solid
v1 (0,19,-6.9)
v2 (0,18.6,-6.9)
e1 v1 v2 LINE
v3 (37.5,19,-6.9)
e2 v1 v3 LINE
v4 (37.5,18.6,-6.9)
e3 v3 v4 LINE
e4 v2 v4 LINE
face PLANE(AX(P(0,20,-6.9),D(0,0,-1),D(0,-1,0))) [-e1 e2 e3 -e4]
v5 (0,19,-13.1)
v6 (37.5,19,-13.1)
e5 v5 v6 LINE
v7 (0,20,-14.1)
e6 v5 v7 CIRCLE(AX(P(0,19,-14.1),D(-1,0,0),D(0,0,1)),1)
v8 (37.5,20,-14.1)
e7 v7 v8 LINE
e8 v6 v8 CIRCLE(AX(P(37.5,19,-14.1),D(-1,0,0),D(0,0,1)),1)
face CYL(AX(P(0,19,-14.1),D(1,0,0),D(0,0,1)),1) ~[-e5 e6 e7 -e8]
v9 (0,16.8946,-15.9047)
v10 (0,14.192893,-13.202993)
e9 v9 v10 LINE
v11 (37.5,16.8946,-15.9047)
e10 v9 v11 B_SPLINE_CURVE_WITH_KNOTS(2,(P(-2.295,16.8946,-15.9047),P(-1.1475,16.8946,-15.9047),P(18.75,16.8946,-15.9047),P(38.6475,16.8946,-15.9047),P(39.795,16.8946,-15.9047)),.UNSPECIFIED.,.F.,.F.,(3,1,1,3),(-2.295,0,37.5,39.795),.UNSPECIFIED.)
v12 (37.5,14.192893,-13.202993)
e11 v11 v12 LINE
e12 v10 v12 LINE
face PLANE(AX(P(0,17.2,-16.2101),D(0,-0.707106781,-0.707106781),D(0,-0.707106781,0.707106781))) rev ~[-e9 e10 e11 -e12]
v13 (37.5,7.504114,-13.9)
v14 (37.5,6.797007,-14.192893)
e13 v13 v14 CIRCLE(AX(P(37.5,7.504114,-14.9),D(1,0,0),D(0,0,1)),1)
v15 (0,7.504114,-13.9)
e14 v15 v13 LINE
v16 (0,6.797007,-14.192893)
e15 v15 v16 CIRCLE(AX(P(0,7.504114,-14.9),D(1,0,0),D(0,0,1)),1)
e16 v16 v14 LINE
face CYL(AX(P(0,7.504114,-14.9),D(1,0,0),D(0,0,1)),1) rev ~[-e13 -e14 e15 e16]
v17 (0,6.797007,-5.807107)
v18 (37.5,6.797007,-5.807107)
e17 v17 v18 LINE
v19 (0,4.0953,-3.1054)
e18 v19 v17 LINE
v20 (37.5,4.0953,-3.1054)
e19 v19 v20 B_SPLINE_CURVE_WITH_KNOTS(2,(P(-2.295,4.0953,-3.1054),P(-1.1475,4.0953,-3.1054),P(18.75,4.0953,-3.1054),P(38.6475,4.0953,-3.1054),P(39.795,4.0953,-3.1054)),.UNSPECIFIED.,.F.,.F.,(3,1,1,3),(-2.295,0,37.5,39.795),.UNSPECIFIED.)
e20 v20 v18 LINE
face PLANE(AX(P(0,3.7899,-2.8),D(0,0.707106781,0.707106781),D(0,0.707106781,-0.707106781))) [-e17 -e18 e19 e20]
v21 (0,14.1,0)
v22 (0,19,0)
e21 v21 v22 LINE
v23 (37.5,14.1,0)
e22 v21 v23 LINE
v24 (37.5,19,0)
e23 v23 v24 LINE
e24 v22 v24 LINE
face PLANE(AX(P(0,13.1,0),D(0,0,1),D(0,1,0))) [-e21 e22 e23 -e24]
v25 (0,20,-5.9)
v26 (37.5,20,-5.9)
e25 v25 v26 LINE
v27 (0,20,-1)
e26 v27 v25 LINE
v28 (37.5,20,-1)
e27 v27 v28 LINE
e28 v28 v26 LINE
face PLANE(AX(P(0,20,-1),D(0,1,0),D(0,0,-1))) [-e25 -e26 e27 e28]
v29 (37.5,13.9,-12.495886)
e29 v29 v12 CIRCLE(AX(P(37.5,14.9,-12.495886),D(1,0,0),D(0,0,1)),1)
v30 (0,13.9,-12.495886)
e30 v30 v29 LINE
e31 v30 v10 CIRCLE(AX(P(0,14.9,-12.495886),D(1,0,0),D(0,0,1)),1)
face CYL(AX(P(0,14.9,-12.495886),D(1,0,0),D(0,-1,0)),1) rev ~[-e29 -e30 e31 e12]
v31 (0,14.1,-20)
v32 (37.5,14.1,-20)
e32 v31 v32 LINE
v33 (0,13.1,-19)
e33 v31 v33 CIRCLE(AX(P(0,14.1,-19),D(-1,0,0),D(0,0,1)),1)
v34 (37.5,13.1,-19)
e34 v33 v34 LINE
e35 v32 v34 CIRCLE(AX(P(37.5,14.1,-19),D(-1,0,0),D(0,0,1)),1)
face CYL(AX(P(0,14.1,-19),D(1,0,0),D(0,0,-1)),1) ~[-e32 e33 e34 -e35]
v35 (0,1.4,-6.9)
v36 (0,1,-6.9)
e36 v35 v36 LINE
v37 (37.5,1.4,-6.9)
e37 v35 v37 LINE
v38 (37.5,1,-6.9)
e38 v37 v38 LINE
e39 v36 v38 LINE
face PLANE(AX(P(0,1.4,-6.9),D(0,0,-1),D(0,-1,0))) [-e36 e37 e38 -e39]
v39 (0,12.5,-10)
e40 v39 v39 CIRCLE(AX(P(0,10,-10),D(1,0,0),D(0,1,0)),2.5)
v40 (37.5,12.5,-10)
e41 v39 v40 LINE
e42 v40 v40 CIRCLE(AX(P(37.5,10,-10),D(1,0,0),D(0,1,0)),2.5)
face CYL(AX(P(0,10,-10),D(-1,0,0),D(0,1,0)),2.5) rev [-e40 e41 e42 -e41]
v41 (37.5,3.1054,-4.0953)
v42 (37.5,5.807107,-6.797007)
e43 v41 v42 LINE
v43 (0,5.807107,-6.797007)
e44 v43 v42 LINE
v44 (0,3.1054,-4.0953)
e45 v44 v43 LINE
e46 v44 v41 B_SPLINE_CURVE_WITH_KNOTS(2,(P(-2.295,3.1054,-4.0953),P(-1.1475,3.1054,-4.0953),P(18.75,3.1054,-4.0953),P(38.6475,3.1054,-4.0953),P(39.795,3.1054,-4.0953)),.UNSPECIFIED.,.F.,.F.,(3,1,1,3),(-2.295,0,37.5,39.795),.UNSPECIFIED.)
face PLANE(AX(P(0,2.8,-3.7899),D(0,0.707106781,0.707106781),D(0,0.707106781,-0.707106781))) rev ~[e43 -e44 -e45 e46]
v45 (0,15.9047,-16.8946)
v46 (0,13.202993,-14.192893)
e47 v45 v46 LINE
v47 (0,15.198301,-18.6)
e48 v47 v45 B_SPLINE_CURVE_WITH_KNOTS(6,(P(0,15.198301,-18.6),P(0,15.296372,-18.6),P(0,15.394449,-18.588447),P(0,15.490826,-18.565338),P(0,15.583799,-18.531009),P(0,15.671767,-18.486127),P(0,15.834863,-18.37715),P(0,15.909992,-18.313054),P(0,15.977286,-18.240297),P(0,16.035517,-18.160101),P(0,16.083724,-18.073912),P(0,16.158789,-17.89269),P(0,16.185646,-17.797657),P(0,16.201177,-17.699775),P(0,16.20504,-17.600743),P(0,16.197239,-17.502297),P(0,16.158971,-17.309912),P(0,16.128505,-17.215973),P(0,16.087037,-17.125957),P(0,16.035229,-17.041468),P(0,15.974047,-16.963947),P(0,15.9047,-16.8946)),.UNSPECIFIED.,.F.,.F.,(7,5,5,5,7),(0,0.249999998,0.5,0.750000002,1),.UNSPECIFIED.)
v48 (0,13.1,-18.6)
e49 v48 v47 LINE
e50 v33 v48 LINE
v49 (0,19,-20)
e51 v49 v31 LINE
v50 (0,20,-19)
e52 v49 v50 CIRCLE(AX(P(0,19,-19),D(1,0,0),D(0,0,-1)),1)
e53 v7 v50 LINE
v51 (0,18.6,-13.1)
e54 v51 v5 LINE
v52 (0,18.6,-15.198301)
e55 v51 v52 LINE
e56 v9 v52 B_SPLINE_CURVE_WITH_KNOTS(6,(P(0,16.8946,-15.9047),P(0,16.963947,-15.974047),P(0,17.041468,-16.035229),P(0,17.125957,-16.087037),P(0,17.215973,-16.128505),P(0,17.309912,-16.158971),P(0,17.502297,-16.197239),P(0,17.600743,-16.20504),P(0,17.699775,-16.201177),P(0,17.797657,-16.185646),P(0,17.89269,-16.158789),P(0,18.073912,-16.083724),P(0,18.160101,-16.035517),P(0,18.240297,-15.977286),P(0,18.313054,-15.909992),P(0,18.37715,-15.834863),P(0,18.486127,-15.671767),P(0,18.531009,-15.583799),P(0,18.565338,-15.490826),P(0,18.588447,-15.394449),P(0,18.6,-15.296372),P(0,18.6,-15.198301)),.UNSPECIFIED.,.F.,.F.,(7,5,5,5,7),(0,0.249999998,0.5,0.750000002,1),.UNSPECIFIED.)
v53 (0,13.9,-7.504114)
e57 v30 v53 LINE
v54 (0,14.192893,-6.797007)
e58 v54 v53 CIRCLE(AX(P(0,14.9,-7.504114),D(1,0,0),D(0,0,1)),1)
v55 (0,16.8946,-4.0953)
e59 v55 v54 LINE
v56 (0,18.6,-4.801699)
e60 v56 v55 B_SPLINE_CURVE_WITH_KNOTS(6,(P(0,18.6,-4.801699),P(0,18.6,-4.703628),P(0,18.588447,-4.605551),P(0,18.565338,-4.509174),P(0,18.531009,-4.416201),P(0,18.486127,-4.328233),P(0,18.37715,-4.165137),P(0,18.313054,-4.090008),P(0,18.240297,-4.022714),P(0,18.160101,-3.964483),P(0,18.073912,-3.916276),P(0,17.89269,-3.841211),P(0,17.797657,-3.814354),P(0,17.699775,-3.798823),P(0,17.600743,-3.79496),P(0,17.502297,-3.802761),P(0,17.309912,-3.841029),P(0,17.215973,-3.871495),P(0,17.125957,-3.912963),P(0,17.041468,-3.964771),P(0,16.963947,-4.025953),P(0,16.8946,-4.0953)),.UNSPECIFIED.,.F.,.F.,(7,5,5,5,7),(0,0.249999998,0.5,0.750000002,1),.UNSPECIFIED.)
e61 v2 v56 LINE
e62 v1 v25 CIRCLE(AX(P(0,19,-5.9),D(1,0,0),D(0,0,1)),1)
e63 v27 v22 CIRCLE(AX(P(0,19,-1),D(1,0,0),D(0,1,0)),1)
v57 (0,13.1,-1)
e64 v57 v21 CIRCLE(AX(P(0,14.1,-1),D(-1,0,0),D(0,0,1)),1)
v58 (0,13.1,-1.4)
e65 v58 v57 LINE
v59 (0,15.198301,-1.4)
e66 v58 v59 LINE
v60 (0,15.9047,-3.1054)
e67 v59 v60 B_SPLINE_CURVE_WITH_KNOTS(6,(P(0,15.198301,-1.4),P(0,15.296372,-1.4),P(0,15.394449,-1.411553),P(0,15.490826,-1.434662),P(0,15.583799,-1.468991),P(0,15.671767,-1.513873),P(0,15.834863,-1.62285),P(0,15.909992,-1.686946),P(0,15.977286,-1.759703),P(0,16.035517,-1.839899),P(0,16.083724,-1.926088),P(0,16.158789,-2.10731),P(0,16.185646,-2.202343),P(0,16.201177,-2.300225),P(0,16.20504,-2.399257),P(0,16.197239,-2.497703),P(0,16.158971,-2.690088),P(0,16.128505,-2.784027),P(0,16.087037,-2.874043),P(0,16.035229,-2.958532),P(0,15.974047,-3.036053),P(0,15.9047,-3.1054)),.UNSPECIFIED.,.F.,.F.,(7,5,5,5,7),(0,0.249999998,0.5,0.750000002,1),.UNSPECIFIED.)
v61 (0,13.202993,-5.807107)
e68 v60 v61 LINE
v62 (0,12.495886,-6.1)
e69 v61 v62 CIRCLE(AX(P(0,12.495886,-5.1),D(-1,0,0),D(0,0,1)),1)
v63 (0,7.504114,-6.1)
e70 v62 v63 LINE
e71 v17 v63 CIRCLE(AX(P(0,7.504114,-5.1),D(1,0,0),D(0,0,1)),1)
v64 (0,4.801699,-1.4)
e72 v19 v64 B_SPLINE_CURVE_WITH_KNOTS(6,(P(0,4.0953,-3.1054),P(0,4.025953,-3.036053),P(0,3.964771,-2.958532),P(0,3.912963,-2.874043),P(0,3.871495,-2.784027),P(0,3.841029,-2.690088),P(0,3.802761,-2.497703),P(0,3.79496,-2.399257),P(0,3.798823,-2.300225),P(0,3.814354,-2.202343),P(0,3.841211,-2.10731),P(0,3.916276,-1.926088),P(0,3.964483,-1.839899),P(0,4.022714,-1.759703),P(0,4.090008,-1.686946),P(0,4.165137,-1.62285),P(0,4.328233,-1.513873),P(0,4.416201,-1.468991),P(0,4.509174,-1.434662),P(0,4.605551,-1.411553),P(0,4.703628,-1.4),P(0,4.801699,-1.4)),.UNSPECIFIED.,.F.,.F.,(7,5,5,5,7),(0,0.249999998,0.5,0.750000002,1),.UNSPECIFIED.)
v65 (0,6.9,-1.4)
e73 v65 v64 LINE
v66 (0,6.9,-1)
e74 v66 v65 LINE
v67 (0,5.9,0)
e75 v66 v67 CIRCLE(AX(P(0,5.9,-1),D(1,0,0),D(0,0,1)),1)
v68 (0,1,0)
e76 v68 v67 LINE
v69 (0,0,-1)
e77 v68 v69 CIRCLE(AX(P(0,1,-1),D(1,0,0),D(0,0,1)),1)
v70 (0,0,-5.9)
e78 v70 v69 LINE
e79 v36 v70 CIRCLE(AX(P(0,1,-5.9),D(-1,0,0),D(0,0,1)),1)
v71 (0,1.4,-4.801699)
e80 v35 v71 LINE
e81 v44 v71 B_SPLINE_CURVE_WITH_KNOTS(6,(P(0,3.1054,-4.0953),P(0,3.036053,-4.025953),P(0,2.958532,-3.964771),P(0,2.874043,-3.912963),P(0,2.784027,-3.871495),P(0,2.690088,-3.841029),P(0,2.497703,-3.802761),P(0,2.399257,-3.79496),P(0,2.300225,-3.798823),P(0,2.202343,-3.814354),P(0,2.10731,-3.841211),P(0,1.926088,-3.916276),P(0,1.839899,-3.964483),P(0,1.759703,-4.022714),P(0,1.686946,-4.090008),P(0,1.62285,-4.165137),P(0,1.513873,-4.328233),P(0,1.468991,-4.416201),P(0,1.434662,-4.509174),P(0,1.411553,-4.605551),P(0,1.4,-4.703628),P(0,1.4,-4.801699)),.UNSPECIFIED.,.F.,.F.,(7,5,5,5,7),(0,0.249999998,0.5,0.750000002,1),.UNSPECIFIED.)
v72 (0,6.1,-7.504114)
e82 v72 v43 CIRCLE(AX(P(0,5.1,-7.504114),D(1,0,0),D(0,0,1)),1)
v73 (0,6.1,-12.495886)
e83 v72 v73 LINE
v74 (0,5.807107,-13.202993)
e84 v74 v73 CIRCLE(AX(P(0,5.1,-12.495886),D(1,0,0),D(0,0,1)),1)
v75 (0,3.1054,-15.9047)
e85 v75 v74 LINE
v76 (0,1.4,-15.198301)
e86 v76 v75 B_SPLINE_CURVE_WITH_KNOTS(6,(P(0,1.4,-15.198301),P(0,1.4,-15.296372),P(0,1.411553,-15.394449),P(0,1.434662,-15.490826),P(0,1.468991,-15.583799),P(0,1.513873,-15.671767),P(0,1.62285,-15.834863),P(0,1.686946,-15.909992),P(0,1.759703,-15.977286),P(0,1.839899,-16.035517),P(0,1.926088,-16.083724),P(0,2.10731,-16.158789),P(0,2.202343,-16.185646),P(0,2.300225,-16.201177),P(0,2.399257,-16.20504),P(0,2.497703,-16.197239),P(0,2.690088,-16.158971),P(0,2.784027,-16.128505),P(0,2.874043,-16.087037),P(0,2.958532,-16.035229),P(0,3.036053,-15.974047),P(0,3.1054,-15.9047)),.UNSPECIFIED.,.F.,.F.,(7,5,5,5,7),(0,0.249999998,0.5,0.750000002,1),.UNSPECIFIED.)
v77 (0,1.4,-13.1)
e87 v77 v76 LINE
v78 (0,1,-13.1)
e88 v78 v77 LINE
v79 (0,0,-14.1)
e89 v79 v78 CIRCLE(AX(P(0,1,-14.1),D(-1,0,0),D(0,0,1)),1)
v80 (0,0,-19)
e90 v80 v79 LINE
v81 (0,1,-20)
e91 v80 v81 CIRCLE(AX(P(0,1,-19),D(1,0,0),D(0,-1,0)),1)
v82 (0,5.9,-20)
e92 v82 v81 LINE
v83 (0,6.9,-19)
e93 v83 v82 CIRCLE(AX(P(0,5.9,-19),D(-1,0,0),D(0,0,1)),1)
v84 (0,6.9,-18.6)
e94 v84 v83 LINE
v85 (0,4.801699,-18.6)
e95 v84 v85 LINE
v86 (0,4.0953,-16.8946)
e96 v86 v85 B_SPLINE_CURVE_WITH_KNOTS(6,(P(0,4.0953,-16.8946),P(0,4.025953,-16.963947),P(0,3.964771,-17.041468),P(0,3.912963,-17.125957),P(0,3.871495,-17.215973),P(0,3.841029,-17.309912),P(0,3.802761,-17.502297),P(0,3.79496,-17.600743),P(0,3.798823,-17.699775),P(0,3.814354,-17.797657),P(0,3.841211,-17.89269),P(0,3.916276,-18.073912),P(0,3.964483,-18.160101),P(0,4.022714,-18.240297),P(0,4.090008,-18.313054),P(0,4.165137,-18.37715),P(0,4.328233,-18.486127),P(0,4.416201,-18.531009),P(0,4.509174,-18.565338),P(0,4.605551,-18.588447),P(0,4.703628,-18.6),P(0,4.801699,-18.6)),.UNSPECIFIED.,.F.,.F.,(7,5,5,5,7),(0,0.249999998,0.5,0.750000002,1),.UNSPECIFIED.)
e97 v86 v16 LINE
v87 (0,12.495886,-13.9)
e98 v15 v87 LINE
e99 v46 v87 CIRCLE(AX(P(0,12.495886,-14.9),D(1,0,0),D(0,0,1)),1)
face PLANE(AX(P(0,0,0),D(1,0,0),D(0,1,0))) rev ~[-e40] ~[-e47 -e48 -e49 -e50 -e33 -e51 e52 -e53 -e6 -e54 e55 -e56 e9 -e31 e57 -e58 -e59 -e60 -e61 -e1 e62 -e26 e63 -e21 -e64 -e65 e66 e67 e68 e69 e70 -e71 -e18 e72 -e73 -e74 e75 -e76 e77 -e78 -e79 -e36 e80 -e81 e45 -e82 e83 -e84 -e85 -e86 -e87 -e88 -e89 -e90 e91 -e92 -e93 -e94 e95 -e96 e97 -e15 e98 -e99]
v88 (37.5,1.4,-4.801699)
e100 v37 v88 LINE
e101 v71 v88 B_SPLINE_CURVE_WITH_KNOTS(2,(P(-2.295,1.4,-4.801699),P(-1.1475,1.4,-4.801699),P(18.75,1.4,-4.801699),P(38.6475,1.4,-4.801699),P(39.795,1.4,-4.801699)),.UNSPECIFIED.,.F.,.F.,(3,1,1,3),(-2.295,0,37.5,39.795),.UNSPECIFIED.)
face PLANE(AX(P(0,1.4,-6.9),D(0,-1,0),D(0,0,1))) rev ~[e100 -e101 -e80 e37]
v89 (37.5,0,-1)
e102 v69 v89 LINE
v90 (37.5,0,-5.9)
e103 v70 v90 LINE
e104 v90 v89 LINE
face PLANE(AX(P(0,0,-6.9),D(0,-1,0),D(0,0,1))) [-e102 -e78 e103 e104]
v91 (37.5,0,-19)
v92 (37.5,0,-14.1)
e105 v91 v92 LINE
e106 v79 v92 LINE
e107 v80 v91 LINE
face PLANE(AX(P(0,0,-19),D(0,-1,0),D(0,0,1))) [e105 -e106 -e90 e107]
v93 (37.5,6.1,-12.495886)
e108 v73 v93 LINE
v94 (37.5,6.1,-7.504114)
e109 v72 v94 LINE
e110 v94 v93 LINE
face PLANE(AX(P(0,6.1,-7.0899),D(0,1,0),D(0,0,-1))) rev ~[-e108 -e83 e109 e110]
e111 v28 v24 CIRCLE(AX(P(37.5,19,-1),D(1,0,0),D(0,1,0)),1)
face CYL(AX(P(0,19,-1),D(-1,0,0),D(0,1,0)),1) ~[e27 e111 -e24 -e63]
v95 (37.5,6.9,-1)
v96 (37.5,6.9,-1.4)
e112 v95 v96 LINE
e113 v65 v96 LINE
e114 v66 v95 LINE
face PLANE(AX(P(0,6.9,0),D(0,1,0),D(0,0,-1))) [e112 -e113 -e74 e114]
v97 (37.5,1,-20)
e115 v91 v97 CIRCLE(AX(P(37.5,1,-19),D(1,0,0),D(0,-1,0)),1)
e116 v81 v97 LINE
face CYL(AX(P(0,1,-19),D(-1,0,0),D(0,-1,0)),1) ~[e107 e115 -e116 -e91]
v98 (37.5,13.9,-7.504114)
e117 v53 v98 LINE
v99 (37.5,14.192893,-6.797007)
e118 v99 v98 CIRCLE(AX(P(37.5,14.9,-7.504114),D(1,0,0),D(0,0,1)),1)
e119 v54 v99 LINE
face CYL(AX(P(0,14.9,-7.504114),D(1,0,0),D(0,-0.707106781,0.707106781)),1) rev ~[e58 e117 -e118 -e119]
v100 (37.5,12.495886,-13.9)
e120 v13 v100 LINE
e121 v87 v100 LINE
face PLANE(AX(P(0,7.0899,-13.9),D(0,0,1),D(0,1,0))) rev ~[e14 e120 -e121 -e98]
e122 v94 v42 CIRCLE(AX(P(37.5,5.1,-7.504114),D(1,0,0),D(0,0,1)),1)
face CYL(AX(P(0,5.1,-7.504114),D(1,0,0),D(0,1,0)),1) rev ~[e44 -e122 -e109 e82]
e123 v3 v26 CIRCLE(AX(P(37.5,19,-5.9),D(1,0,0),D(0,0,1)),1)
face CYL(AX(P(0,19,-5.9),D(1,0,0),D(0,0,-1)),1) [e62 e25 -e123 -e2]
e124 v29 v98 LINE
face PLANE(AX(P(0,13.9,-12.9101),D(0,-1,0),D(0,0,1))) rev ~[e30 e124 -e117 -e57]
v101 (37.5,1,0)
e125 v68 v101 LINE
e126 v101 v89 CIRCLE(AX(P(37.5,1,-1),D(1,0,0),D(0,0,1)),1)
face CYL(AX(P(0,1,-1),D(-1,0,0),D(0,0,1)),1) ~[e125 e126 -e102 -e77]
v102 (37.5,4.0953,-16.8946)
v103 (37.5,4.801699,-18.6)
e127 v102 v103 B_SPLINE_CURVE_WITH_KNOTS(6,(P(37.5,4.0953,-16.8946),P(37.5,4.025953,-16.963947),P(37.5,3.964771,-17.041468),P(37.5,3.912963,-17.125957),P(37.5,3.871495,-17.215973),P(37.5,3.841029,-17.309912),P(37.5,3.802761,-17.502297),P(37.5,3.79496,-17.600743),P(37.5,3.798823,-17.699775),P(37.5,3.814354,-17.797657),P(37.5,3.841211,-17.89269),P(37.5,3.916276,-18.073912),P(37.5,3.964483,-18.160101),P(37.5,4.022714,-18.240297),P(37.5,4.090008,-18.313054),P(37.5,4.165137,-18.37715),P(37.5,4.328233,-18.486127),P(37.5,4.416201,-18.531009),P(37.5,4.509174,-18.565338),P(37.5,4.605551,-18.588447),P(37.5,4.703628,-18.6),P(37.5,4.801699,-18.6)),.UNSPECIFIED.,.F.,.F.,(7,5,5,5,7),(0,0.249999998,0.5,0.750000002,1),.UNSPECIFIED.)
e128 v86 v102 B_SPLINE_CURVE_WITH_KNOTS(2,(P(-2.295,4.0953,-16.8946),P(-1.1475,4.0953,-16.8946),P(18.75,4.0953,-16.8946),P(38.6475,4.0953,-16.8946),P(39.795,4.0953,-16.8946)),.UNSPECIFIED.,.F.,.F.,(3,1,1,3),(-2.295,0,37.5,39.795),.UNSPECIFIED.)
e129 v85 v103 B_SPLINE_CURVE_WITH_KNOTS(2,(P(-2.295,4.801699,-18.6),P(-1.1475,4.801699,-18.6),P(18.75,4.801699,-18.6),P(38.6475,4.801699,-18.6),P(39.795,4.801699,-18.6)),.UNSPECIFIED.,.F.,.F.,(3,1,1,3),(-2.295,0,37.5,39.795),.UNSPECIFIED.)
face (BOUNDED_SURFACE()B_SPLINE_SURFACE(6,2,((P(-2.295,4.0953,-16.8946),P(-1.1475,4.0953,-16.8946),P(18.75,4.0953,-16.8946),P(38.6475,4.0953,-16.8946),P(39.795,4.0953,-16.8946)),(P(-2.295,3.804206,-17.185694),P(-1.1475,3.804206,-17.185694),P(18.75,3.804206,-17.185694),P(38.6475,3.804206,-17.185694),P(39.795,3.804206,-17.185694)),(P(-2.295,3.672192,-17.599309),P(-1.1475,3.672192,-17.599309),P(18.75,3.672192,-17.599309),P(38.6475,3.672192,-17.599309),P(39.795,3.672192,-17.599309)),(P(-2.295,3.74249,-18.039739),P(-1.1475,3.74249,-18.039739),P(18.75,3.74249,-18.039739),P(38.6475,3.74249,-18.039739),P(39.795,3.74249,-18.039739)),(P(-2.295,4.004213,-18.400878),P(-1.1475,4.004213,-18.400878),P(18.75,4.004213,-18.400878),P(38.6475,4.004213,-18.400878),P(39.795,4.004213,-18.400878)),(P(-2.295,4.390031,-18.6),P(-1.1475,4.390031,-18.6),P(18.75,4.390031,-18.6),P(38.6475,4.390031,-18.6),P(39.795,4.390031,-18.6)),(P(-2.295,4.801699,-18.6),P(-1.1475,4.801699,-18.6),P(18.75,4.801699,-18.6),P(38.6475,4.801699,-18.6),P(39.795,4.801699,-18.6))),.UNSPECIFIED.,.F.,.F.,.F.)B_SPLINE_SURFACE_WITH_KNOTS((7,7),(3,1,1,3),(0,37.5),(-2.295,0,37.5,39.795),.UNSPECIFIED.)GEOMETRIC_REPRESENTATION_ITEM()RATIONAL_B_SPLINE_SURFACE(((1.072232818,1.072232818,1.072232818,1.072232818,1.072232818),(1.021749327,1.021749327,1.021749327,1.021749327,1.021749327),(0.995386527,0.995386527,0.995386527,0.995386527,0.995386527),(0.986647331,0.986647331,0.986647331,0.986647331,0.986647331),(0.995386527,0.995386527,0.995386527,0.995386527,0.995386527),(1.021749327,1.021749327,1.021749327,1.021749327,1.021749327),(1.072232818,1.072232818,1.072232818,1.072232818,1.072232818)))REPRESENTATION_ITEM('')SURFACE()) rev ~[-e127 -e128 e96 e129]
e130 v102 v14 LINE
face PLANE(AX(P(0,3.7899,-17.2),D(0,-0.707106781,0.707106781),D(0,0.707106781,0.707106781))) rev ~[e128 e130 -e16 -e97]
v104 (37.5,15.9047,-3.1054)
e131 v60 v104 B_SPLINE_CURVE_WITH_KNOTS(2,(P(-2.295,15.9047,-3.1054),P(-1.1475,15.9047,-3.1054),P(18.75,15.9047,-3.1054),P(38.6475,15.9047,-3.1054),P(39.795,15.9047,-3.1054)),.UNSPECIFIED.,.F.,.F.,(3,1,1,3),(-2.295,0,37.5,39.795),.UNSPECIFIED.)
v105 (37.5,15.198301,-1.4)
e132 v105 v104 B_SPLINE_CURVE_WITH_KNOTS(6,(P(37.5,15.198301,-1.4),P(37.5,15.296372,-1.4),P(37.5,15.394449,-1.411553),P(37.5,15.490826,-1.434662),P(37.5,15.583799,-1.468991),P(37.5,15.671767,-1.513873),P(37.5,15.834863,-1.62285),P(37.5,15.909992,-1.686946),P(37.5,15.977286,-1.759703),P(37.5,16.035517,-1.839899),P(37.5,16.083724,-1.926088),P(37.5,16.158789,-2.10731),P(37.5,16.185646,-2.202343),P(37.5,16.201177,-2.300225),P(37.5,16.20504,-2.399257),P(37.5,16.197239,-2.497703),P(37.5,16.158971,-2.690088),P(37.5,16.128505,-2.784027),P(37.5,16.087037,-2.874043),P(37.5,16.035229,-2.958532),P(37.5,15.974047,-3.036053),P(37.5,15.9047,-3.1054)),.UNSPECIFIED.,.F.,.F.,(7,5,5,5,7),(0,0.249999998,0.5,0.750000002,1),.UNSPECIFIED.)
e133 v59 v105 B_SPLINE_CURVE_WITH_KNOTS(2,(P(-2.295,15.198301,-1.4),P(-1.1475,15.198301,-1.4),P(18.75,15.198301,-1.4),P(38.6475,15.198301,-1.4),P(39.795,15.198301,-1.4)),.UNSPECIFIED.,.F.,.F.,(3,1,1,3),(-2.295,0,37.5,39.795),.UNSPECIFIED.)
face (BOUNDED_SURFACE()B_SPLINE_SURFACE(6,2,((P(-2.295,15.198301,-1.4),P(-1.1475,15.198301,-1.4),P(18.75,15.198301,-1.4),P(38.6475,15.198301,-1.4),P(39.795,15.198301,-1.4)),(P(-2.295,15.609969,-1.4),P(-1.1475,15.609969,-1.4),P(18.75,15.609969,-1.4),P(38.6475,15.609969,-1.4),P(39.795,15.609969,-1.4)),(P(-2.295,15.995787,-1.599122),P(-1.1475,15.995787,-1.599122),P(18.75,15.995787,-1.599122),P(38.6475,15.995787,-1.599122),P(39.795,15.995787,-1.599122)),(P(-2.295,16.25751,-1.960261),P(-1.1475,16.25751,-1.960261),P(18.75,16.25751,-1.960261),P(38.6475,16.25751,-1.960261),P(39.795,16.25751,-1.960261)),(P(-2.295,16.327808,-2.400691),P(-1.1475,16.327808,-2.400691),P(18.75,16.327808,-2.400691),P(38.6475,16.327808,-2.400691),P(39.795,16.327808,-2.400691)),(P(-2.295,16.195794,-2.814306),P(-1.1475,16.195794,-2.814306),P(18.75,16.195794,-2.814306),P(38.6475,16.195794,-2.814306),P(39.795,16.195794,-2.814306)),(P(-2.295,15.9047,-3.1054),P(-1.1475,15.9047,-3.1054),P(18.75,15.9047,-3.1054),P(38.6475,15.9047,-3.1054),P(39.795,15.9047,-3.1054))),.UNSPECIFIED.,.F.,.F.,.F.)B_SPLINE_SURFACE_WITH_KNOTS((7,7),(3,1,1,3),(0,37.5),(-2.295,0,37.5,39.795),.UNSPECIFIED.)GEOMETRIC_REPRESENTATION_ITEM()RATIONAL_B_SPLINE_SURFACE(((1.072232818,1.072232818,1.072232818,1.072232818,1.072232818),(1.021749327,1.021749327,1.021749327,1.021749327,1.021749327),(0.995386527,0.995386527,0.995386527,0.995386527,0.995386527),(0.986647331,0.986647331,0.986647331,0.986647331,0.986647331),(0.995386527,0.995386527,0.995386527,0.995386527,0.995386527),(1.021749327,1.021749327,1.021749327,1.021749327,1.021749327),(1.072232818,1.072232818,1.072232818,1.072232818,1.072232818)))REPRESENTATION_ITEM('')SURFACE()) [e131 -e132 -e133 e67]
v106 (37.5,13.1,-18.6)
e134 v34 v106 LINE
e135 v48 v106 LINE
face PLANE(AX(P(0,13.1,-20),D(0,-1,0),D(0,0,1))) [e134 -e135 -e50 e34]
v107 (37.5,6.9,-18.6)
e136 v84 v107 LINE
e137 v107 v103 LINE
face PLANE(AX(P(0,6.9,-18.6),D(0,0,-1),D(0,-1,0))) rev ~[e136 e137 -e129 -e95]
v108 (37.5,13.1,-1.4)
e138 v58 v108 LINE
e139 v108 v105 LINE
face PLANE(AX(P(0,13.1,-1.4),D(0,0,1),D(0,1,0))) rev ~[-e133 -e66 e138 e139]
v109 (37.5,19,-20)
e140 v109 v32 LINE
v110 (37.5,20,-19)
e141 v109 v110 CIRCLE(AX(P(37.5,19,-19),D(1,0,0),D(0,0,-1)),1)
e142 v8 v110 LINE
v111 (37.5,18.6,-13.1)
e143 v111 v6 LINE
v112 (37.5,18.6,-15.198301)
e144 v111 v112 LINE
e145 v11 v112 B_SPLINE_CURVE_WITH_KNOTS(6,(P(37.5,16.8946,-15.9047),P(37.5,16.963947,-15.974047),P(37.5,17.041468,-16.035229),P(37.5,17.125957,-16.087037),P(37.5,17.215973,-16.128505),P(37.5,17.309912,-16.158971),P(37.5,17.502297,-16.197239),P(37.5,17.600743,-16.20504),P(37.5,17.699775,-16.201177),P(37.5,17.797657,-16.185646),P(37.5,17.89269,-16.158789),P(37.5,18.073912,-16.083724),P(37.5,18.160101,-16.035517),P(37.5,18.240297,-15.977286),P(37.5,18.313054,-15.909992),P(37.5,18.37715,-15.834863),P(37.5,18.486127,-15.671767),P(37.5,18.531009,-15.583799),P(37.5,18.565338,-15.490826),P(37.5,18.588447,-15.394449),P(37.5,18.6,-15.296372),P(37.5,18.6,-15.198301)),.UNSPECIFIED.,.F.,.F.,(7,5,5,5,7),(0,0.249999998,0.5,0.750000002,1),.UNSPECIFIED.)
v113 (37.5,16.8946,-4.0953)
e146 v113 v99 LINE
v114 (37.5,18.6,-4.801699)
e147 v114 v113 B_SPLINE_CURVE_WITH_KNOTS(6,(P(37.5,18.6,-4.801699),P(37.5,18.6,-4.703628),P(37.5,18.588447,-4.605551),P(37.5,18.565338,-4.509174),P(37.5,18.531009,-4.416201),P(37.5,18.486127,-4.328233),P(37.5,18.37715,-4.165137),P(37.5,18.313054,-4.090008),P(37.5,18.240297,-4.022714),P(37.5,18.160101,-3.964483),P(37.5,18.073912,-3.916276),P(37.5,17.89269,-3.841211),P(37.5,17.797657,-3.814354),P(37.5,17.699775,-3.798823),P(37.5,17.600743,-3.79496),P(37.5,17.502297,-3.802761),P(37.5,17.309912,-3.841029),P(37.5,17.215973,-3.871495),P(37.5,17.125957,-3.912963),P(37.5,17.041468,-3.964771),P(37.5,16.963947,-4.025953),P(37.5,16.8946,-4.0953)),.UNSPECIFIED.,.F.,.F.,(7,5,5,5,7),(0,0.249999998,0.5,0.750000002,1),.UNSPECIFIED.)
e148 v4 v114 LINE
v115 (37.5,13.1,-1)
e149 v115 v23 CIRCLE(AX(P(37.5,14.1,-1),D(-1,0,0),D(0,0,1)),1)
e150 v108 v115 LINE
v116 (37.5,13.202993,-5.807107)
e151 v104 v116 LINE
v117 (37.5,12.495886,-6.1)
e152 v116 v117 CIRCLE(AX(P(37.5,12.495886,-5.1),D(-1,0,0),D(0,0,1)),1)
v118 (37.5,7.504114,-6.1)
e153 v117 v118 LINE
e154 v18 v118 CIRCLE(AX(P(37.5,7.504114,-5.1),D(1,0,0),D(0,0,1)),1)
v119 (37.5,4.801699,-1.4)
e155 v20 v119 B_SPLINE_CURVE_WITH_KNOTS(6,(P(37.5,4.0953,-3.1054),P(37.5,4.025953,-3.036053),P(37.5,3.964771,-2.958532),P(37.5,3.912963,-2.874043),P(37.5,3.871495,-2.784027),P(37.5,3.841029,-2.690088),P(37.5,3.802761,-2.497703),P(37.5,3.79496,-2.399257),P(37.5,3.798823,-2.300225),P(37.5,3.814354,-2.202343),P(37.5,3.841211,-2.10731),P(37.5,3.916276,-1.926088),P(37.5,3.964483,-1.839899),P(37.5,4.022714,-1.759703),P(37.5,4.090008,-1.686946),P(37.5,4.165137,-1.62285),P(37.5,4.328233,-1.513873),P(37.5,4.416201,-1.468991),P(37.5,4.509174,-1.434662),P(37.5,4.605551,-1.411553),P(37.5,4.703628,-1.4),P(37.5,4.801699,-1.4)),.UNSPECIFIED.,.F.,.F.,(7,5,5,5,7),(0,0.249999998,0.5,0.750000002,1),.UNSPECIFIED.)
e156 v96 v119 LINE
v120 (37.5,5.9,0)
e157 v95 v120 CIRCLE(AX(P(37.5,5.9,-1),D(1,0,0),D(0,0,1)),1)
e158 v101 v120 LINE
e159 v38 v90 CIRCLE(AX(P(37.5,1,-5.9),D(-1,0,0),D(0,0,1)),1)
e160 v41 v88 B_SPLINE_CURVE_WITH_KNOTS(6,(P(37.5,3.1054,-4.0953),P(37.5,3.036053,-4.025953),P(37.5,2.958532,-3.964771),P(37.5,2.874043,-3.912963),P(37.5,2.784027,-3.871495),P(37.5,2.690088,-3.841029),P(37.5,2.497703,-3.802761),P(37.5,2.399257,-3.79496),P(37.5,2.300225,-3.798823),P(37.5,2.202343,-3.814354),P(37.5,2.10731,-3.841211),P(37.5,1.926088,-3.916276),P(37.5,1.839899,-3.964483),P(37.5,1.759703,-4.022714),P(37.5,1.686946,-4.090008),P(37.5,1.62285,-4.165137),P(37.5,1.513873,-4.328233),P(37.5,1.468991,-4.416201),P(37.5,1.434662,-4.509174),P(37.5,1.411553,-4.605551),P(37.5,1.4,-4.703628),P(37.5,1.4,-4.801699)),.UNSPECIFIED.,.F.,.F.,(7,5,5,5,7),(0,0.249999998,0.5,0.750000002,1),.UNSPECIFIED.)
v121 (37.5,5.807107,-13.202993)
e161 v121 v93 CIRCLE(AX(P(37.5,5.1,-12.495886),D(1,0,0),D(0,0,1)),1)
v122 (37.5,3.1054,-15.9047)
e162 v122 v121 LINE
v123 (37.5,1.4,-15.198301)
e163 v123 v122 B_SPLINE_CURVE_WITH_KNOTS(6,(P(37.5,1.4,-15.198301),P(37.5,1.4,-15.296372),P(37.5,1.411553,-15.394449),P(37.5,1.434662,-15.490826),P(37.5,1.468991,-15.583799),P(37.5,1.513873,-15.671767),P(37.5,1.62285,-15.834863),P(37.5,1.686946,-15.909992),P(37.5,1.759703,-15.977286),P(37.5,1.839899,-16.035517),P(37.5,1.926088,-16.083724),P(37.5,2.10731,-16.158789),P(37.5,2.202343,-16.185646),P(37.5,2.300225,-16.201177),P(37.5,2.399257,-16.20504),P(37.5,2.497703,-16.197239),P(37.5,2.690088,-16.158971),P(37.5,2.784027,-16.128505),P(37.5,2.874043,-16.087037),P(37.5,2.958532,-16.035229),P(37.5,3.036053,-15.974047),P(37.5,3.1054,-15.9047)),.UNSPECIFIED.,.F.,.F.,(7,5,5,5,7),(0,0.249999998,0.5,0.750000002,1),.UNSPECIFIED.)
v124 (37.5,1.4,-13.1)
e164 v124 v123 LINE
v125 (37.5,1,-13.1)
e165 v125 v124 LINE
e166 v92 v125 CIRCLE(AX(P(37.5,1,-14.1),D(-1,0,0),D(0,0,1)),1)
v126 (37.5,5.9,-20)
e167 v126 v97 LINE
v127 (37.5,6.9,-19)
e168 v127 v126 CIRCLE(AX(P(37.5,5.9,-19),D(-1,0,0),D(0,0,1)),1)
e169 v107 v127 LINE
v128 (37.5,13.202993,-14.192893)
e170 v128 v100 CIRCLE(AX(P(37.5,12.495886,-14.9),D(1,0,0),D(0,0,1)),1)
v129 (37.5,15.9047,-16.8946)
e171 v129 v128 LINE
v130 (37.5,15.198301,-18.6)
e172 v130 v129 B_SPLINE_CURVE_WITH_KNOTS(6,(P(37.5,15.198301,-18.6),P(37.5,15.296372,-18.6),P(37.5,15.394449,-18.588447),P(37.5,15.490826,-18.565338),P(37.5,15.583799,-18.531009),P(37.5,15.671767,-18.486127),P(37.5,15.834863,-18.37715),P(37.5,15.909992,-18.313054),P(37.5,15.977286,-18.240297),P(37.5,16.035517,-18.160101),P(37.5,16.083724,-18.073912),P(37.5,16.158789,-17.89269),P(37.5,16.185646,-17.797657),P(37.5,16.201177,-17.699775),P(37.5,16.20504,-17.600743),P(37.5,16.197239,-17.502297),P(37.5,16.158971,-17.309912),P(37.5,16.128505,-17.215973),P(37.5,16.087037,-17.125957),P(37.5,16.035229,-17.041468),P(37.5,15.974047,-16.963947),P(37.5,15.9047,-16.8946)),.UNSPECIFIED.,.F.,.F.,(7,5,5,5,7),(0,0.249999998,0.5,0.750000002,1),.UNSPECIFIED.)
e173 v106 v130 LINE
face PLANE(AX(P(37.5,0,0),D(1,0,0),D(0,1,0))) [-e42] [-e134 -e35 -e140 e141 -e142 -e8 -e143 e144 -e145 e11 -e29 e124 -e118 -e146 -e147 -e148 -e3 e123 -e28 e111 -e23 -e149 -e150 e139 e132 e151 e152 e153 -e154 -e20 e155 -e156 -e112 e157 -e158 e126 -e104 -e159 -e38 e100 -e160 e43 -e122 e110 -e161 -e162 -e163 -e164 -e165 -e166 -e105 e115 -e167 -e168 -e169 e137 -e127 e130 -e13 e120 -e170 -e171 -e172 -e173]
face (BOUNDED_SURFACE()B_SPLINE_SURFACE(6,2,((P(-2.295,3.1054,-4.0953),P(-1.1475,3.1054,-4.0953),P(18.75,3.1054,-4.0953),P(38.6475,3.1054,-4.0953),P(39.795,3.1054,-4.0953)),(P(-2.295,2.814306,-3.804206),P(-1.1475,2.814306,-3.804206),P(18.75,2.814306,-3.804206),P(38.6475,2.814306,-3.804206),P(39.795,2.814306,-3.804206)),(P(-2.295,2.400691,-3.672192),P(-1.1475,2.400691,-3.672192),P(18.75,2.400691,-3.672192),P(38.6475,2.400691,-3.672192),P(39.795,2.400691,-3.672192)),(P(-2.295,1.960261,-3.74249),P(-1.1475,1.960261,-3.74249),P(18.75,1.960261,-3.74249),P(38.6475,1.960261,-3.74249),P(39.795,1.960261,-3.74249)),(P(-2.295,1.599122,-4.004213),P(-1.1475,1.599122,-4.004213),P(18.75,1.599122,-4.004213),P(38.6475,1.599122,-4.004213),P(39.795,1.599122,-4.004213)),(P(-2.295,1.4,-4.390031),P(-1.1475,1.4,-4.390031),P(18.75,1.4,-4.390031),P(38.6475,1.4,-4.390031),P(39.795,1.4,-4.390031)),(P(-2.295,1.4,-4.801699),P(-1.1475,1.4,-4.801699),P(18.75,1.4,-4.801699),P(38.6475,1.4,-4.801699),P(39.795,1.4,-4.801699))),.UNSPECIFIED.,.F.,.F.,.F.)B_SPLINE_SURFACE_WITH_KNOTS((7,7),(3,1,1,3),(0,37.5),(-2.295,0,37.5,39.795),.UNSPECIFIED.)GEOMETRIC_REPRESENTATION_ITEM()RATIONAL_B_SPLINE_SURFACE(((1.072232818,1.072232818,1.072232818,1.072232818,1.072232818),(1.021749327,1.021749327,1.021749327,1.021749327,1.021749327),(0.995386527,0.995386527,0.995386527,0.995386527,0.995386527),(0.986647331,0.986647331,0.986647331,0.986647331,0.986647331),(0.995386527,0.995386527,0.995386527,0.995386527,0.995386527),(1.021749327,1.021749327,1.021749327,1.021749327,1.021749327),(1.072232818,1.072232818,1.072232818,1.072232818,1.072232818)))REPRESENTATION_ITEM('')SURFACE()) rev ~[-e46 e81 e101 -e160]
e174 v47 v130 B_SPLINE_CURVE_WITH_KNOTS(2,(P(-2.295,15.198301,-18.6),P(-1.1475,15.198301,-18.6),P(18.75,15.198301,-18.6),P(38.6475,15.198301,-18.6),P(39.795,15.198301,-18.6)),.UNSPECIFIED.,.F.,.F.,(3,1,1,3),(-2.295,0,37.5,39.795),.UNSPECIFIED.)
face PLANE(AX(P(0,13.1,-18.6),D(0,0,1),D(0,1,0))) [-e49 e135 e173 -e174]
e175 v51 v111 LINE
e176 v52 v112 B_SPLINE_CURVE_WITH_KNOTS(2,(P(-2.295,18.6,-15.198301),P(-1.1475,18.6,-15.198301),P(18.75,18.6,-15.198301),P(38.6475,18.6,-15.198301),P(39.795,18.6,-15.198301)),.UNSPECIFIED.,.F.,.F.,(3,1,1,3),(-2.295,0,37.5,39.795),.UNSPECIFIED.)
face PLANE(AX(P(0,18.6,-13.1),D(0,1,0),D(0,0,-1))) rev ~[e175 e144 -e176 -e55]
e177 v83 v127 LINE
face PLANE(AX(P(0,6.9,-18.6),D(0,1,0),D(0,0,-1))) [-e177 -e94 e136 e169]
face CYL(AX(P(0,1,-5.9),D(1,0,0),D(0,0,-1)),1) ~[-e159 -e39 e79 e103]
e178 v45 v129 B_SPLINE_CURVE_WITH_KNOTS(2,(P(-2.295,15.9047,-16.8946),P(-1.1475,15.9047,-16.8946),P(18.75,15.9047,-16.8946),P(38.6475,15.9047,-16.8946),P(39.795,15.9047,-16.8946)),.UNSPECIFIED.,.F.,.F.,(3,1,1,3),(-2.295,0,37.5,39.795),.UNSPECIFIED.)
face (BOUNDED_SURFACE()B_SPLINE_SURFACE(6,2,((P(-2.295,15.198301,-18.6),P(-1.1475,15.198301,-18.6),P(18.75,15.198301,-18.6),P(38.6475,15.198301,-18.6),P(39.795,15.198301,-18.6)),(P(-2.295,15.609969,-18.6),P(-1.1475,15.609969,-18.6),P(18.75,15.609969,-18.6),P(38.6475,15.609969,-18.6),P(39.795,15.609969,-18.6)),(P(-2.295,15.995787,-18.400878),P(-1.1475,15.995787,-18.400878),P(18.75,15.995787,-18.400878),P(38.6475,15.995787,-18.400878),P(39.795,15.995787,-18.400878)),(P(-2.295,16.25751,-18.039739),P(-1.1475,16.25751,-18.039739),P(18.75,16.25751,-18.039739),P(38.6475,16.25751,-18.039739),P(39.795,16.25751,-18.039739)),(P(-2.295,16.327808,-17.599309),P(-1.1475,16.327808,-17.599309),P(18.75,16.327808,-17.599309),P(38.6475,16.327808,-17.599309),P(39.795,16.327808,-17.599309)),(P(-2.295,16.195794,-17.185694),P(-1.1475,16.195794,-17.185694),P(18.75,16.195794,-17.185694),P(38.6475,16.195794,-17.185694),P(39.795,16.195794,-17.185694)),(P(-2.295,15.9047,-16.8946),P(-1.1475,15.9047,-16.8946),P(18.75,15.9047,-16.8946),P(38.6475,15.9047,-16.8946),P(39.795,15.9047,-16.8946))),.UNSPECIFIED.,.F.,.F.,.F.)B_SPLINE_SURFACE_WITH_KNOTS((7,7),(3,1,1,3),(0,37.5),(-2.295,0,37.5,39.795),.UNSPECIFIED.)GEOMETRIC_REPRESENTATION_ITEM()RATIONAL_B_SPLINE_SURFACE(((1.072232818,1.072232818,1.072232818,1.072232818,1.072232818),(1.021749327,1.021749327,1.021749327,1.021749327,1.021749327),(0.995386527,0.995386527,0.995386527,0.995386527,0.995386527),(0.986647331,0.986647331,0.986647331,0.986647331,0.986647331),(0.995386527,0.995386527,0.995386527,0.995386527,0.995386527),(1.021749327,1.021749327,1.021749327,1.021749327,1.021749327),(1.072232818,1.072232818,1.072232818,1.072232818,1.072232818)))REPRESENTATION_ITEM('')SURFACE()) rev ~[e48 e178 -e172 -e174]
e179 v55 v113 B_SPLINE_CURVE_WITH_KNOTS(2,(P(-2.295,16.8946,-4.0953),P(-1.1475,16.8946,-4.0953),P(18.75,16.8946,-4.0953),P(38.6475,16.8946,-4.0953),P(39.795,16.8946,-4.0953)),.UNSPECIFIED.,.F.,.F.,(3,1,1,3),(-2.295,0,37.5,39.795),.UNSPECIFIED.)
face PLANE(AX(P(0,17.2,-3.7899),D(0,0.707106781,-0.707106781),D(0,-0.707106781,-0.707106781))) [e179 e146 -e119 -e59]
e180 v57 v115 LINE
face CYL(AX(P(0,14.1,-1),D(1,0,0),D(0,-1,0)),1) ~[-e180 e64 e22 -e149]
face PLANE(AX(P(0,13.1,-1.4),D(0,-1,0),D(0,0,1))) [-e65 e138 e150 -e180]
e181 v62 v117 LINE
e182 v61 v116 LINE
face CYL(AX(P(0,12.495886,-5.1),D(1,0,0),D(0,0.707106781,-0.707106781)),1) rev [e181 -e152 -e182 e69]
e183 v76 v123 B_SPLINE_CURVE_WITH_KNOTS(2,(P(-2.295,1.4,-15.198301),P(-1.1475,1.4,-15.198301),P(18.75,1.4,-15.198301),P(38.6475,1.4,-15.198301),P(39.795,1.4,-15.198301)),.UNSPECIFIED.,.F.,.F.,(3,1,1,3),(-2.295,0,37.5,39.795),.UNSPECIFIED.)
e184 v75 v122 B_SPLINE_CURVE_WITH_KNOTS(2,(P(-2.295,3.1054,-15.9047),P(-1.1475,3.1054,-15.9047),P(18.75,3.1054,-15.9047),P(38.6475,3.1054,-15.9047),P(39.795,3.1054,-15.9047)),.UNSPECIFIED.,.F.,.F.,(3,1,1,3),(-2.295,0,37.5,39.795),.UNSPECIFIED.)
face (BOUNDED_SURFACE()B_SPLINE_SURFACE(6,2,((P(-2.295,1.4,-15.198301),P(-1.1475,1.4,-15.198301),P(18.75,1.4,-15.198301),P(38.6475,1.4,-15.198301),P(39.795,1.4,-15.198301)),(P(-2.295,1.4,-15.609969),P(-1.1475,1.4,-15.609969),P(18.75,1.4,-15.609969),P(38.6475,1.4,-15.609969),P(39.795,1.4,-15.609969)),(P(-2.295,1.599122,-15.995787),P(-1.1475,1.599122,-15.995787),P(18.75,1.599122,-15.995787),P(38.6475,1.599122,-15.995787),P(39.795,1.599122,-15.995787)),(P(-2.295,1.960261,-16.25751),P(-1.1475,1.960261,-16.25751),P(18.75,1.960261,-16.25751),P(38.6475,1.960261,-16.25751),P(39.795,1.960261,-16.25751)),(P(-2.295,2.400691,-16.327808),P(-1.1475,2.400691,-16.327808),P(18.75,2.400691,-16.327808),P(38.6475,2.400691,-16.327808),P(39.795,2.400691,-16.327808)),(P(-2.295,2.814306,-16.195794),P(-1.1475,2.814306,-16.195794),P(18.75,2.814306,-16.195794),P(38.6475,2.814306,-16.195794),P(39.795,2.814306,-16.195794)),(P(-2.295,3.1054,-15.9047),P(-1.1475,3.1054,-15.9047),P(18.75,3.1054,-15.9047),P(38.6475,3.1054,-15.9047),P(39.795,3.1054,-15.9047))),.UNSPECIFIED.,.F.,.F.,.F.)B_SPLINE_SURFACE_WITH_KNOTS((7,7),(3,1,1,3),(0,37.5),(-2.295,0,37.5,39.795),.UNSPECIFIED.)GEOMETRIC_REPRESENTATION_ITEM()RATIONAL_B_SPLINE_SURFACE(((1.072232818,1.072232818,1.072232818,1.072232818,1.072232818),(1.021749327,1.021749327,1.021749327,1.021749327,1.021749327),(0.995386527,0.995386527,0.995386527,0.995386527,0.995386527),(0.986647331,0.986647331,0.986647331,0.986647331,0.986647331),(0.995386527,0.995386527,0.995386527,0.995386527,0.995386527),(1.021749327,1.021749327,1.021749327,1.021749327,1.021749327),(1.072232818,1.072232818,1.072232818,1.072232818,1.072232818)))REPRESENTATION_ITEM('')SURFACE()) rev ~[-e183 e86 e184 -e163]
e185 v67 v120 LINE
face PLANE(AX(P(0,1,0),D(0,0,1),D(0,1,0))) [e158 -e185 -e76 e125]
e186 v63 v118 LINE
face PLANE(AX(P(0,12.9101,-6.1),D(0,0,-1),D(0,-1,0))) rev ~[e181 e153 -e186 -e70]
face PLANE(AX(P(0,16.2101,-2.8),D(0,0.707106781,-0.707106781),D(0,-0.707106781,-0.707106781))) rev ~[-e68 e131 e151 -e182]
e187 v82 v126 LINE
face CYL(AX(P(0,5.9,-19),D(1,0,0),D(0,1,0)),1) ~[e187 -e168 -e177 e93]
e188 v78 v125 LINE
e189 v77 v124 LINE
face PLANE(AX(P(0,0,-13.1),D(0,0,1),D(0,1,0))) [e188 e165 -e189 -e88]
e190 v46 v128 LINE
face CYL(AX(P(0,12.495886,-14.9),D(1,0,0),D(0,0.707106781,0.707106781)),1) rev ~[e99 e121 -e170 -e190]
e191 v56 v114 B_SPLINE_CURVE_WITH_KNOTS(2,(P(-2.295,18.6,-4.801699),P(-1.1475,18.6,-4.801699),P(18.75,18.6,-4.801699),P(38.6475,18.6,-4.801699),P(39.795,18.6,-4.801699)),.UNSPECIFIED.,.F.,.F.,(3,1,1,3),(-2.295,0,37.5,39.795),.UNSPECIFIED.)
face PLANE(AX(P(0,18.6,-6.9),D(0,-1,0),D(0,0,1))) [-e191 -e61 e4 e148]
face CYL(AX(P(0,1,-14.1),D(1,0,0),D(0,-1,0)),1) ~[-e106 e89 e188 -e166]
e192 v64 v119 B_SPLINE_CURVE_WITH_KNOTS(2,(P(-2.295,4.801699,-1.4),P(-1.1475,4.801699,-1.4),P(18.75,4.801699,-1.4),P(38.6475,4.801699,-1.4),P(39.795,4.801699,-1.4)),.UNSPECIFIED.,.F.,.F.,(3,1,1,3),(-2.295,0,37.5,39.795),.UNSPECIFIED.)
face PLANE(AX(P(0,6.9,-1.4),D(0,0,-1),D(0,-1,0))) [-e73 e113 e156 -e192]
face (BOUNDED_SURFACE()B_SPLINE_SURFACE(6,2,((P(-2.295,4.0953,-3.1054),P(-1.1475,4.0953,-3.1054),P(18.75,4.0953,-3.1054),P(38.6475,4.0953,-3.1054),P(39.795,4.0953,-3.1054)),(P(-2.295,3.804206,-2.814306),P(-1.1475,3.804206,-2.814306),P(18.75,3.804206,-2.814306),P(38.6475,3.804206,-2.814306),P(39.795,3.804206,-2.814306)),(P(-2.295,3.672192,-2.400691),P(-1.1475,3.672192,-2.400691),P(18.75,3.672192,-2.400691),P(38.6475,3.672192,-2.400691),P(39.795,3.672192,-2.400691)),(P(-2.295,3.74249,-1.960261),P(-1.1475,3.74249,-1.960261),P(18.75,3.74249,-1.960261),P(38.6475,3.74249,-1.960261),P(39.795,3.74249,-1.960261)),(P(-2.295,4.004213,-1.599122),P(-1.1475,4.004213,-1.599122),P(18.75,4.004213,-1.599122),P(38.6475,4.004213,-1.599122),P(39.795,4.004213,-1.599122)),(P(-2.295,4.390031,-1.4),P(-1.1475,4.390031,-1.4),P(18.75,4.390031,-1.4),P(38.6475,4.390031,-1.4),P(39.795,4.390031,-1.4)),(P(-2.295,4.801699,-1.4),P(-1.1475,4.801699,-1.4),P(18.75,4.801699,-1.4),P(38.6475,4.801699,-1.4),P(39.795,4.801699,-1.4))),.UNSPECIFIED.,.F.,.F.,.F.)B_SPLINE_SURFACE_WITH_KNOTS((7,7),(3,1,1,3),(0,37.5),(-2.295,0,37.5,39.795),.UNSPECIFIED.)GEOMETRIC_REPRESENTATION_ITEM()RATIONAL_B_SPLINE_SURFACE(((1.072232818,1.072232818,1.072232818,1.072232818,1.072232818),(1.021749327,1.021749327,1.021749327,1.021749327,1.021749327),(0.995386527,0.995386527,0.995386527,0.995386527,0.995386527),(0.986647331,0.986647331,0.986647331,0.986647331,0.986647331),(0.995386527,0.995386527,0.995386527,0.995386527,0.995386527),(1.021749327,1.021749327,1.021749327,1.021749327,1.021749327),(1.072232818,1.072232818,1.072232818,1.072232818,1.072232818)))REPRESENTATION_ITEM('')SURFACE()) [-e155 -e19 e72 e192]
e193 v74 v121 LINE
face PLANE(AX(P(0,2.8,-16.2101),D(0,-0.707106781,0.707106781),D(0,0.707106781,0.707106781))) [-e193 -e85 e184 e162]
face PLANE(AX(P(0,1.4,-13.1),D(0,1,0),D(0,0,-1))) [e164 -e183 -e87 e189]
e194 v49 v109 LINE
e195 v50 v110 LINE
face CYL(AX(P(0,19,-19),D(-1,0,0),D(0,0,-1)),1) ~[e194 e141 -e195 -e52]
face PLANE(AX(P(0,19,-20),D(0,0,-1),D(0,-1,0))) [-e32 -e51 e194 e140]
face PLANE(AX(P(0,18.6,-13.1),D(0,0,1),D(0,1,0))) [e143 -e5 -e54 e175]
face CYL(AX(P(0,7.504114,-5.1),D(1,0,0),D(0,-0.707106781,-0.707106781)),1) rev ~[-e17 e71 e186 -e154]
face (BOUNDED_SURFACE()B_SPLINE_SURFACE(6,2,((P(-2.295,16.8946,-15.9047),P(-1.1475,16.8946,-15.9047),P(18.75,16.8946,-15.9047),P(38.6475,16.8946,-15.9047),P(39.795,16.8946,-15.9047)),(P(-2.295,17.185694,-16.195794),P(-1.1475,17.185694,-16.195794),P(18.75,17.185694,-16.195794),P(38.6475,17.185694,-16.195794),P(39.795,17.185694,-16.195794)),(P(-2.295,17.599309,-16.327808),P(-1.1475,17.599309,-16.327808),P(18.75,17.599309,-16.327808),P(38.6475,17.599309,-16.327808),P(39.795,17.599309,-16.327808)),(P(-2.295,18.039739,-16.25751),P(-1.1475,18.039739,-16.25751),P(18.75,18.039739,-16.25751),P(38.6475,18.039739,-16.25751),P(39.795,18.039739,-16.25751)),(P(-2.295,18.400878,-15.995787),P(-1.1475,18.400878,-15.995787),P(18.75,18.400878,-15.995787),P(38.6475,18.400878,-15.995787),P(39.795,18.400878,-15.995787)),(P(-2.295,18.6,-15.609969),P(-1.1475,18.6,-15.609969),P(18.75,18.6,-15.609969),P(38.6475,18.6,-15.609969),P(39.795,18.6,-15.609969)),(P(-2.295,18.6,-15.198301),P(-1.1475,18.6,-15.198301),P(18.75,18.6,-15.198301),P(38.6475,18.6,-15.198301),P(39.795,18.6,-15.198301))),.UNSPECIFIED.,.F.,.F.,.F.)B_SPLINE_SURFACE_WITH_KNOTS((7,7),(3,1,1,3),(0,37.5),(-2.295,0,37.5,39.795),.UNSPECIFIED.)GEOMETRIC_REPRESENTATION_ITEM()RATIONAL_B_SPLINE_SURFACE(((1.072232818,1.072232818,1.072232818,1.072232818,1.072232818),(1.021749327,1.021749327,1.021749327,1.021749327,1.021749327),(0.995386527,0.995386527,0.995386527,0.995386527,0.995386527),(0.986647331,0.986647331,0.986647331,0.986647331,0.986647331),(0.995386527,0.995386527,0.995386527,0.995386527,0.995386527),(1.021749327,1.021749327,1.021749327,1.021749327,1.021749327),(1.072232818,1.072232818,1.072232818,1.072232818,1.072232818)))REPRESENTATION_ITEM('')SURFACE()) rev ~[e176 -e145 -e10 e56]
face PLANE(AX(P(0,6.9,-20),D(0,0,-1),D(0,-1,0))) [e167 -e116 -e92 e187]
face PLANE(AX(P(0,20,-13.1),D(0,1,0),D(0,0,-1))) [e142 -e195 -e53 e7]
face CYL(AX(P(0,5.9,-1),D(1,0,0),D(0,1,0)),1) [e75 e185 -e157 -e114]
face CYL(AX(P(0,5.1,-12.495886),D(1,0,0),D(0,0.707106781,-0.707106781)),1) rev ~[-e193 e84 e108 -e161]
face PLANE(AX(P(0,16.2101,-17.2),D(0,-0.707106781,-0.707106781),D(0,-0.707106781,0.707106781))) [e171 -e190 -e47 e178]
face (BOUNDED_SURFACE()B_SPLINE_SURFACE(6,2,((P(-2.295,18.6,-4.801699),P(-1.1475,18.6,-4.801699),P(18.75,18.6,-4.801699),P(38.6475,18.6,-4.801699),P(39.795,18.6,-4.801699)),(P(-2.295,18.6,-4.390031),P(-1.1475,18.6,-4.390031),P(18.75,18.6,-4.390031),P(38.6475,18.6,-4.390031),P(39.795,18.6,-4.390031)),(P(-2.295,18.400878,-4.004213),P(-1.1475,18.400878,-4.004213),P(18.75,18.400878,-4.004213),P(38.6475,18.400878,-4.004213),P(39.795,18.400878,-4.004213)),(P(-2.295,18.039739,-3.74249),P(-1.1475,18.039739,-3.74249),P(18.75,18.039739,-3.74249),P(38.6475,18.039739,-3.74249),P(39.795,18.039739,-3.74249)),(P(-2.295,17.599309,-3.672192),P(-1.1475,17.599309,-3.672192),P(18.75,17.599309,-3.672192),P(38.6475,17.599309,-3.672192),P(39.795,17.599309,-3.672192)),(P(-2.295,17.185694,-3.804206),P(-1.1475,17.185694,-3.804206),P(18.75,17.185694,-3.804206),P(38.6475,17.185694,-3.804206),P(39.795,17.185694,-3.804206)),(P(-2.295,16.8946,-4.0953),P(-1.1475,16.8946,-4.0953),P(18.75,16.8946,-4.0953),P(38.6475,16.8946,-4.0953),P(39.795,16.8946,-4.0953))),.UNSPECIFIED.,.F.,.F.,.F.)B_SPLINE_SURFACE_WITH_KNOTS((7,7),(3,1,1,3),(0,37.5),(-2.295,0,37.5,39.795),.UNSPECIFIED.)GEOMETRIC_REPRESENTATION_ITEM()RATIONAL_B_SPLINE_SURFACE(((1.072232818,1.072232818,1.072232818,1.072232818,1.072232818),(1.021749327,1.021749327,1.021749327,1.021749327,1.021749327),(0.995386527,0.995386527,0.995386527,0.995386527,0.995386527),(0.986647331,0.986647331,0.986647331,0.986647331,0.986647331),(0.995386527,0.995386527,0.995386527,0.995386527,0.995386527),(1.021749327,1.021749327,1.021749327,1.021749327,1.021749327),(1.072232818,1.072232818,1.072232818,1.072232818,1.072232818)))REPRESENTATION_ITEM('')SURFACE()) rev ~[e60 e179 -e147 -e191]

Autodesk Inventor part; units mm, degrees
ref_plane "YZ Plane" through (0, 0, 0) normal (1, 0, 0) x (0, 1, 0)
ref_plane "XZ Plane" through (0, 0, 0) normal (0, 1, 0) x (-1, 0, 0)
ref_plane "XY Plane" through (0, 0, 0) normal (0, 0, 1) x (1, 0, 0)
sketch "Sketch2" plane through (0, 0, 0) normal (1, 0, 0) x (0, 1, 0)
  line L0 (1, 0) -> (19, 0)
  line L1 (20, -1) -> (20, -19)
  line L2 (19, -20) -> (1, -20)
  line L3 (0, -19) -> (0, -1)
  circle A0 centre (10, -10) radius 2.5
  line L4 (13.9, -6.1) -> (6.1, -6.1)
  line L5 (6.1, -6.1) -> (6.1, -13.9)
  line L6 (6.1, -13.9) -> (13.9, -13.9)
  line L7 (13.9, -13.9) -> (13.9, -6.1)
  line L8 (13.1, -20) -> (13.1, -18.6)
  line L9 (13.1, -18.6) -> (16.2101, -18.6)
  line L10 (16.2101, -18.6) -> (16.2101, -17.2)
  line L11 (16.2101, -17.2) -> (12.9101, -13.9)
  line L12 (10, -20) -> (10, -13.9) construction
  line L13 (6.9, -18.6) -> (3.7899, -18.6)
  line L14 (3.7899, -18.6) -> (3.7899, -17.2)
  line L15 (3.7899, -17.2) -> (7.0899, -13.9)
  line L16 (6.9, -18.6) -> (6.9, -20)
  line L17 (1.4, -6.9) -> (1.4, -3.7899)
  line L18 (1.4, -6.9) -> (0, -6.9)
  line L19 (1.4, -3.7899) -> (2.8, -3.7899)
  line L20 (2.8, -3.7899) -> (6.1, -7.0899)
  line L21 (0, -13.1) -> (1.4, -13.1)
  line L22 (1.4, -13.1) -> (1.4, -16.2101)
  line L23 (1.4, -16.2101) -> (2.8, -16.2101)
  line L24 (2.8, -16.2101) -> (6.1, -12.9101)
  line L25 (13.1, -1.4) -> (16.2101, -1.4)
  line L26 (13.1, -1.4) -> (13.1, 0)
  line L27 (16.2101, -1.4) -> (16.2101, -2.8)
  line L28 (16.2101, -2.8) -> (12.9101, -6.1)
  line L29 (6.9, 0) -> (6.9, -1.4)
  line L30 (6.9, -1.4) -> (3.7899, -1.4)
  line L31 (3.7899, -1.4) -> (3.7899, -2.8)
  line L32 (3.7899, -2.8) -> (7.0899, -6.1)
  line L33 (18.6, -13.1) -> (18.6, -16.2101)
  line L34 (18.6, -13.1) -> (20, -13.1)
  line L35 (18.6, -16.2101) -> (17.2, -16.2101)
  line L36 (17.2, -16.2101) -> (13.9, -12.9101)
  line L37 (20, -6.9) -> (18.6, -6.9)
  line L38 (18.6, -6.9) -> (18.6, -3.7899)
  line L39 (18.6, -3.7899) -> (17.2, -3.7899)
  line L40 (17.2, -3.7899) -> (13.9, -7.0899)
  arc A1 (20, -1) -> (19, 0) centre (19, -1) ccw
  arc A2 (19, -20) -> (20, -19) centre (19, -19) ccw
  arc A3 (0, -19) -> (1, -20) centre (1, -19) ccw
  arc A4 (1, 0) -> (0, -1) centre (1, -1) ccw
  point P0 (0, 0)
  point P1 (20, -20)
  point P2 (20, 0)
  point P3 (0, -20)
  point P4 (20, -10)
  point P5 (13.9, -10)
  point P6 (14.655, -18.6)
  point P7 (1.4, -14.655)
  point P8 (5.345, -1.4)
  point P9 (18.6, -5.345)
  point P10 (13.9, -12.9101)
  point P11 (13.9, -7.0899)
  point P12 (20, -6.9)
  point P13 (13.1, 0)
  point P14 (12.9101, -6.1)
  point P15 (7.0899, -6.1)
  point P16 (6.9, 0)
  point P17 (0, -6.9)
  point P18 (6.1, -7.0899)
  point P19 (6.1, -12.9101)
  point P20 (0, -13.1)
  point P21 (20, -13.1)
  dimension "d0" = 20
  dimension "d1" = 20
  dimension "d2" = 5
  dimension "d3" = 6.1
  dimension "d4" = 6.1
  dimension "d5" = 6.2
  dimension "d6" = 1.4
  dimension "d7" = 0.7
  dimension "d8" = 45
  dimension "d9" = 1.4
  dimension "d12" = 360
  dimension "d29" = 1
extrude "Extrusion3" add sketch "Sketch2" along normal blind 37.5 contours L0 L29 L30 L31 L32 L4 L5 L20 L19 L17 L18 L3 A4 | L0 A1 L1 L37 L38 L39 L40 L7 L4 L28 L27 L25 L26 | L21 L22 L23 L24 L5 L6 L15 L14 L13 L16 L2 A3 L3 | L4 L7 L6 L5 | L1 A2 L2 L8 L9 L10 L11 L6 L7 L36 L35 L33 L34
fillet "Fillet2" radius 1 32 edges at (18.75, 17.2, -16.2101) (18.75, 18.6, -16.2101) (18.75, 20, -13.1) (18.75, 20, -6.9) (18.75, 18.6, -3.7899) (18.75, 17.2, -3.7899) (18.75, 13.9, -7.0899) (18.75, 13.9, -12.9101) (18.75, 13.1, -20) (18.75, 16.2101, -18.6) (18.75, 16.2101, -17.2) (18.75, 12.9101, -13.9) (18.75, 7.0899, -13.9) (18.75, 3.7899, -17.2) (18.75, 3.7899, -18.6) (18.75, 6.9, -20) (18.75, 0, -13.1) (18.75, 1.4, -16.2101) (18.75, 2.8, -16.2101) (18.75, 6.1, -12.9101) (18.75, 6.1, -7.0899) (18.75, 2.8, -3.7899) (18.75, 1.4, -3.7899) (18.75, 0, -6.9) (18.75, 3.7899, -2.8) (18.75, 3.7899, -1.4) (18.75, 6.9, 0) (18.75, 7.0899, -6.1) (18.75, 13.1, 0) (18.75, 16.2101, -1.4) (18.75, 16.2101, -2.8) (18.75, 12.9101, -6.1)
equation "\"d7\" = 0.5 * d6"
equation "\"d9\" = d6"
equation "\"d27\" = Length"
equation "\"Length\" = 37.5"
properties part number "20x20 Channel-37.5" material "Aluminum 6061"
